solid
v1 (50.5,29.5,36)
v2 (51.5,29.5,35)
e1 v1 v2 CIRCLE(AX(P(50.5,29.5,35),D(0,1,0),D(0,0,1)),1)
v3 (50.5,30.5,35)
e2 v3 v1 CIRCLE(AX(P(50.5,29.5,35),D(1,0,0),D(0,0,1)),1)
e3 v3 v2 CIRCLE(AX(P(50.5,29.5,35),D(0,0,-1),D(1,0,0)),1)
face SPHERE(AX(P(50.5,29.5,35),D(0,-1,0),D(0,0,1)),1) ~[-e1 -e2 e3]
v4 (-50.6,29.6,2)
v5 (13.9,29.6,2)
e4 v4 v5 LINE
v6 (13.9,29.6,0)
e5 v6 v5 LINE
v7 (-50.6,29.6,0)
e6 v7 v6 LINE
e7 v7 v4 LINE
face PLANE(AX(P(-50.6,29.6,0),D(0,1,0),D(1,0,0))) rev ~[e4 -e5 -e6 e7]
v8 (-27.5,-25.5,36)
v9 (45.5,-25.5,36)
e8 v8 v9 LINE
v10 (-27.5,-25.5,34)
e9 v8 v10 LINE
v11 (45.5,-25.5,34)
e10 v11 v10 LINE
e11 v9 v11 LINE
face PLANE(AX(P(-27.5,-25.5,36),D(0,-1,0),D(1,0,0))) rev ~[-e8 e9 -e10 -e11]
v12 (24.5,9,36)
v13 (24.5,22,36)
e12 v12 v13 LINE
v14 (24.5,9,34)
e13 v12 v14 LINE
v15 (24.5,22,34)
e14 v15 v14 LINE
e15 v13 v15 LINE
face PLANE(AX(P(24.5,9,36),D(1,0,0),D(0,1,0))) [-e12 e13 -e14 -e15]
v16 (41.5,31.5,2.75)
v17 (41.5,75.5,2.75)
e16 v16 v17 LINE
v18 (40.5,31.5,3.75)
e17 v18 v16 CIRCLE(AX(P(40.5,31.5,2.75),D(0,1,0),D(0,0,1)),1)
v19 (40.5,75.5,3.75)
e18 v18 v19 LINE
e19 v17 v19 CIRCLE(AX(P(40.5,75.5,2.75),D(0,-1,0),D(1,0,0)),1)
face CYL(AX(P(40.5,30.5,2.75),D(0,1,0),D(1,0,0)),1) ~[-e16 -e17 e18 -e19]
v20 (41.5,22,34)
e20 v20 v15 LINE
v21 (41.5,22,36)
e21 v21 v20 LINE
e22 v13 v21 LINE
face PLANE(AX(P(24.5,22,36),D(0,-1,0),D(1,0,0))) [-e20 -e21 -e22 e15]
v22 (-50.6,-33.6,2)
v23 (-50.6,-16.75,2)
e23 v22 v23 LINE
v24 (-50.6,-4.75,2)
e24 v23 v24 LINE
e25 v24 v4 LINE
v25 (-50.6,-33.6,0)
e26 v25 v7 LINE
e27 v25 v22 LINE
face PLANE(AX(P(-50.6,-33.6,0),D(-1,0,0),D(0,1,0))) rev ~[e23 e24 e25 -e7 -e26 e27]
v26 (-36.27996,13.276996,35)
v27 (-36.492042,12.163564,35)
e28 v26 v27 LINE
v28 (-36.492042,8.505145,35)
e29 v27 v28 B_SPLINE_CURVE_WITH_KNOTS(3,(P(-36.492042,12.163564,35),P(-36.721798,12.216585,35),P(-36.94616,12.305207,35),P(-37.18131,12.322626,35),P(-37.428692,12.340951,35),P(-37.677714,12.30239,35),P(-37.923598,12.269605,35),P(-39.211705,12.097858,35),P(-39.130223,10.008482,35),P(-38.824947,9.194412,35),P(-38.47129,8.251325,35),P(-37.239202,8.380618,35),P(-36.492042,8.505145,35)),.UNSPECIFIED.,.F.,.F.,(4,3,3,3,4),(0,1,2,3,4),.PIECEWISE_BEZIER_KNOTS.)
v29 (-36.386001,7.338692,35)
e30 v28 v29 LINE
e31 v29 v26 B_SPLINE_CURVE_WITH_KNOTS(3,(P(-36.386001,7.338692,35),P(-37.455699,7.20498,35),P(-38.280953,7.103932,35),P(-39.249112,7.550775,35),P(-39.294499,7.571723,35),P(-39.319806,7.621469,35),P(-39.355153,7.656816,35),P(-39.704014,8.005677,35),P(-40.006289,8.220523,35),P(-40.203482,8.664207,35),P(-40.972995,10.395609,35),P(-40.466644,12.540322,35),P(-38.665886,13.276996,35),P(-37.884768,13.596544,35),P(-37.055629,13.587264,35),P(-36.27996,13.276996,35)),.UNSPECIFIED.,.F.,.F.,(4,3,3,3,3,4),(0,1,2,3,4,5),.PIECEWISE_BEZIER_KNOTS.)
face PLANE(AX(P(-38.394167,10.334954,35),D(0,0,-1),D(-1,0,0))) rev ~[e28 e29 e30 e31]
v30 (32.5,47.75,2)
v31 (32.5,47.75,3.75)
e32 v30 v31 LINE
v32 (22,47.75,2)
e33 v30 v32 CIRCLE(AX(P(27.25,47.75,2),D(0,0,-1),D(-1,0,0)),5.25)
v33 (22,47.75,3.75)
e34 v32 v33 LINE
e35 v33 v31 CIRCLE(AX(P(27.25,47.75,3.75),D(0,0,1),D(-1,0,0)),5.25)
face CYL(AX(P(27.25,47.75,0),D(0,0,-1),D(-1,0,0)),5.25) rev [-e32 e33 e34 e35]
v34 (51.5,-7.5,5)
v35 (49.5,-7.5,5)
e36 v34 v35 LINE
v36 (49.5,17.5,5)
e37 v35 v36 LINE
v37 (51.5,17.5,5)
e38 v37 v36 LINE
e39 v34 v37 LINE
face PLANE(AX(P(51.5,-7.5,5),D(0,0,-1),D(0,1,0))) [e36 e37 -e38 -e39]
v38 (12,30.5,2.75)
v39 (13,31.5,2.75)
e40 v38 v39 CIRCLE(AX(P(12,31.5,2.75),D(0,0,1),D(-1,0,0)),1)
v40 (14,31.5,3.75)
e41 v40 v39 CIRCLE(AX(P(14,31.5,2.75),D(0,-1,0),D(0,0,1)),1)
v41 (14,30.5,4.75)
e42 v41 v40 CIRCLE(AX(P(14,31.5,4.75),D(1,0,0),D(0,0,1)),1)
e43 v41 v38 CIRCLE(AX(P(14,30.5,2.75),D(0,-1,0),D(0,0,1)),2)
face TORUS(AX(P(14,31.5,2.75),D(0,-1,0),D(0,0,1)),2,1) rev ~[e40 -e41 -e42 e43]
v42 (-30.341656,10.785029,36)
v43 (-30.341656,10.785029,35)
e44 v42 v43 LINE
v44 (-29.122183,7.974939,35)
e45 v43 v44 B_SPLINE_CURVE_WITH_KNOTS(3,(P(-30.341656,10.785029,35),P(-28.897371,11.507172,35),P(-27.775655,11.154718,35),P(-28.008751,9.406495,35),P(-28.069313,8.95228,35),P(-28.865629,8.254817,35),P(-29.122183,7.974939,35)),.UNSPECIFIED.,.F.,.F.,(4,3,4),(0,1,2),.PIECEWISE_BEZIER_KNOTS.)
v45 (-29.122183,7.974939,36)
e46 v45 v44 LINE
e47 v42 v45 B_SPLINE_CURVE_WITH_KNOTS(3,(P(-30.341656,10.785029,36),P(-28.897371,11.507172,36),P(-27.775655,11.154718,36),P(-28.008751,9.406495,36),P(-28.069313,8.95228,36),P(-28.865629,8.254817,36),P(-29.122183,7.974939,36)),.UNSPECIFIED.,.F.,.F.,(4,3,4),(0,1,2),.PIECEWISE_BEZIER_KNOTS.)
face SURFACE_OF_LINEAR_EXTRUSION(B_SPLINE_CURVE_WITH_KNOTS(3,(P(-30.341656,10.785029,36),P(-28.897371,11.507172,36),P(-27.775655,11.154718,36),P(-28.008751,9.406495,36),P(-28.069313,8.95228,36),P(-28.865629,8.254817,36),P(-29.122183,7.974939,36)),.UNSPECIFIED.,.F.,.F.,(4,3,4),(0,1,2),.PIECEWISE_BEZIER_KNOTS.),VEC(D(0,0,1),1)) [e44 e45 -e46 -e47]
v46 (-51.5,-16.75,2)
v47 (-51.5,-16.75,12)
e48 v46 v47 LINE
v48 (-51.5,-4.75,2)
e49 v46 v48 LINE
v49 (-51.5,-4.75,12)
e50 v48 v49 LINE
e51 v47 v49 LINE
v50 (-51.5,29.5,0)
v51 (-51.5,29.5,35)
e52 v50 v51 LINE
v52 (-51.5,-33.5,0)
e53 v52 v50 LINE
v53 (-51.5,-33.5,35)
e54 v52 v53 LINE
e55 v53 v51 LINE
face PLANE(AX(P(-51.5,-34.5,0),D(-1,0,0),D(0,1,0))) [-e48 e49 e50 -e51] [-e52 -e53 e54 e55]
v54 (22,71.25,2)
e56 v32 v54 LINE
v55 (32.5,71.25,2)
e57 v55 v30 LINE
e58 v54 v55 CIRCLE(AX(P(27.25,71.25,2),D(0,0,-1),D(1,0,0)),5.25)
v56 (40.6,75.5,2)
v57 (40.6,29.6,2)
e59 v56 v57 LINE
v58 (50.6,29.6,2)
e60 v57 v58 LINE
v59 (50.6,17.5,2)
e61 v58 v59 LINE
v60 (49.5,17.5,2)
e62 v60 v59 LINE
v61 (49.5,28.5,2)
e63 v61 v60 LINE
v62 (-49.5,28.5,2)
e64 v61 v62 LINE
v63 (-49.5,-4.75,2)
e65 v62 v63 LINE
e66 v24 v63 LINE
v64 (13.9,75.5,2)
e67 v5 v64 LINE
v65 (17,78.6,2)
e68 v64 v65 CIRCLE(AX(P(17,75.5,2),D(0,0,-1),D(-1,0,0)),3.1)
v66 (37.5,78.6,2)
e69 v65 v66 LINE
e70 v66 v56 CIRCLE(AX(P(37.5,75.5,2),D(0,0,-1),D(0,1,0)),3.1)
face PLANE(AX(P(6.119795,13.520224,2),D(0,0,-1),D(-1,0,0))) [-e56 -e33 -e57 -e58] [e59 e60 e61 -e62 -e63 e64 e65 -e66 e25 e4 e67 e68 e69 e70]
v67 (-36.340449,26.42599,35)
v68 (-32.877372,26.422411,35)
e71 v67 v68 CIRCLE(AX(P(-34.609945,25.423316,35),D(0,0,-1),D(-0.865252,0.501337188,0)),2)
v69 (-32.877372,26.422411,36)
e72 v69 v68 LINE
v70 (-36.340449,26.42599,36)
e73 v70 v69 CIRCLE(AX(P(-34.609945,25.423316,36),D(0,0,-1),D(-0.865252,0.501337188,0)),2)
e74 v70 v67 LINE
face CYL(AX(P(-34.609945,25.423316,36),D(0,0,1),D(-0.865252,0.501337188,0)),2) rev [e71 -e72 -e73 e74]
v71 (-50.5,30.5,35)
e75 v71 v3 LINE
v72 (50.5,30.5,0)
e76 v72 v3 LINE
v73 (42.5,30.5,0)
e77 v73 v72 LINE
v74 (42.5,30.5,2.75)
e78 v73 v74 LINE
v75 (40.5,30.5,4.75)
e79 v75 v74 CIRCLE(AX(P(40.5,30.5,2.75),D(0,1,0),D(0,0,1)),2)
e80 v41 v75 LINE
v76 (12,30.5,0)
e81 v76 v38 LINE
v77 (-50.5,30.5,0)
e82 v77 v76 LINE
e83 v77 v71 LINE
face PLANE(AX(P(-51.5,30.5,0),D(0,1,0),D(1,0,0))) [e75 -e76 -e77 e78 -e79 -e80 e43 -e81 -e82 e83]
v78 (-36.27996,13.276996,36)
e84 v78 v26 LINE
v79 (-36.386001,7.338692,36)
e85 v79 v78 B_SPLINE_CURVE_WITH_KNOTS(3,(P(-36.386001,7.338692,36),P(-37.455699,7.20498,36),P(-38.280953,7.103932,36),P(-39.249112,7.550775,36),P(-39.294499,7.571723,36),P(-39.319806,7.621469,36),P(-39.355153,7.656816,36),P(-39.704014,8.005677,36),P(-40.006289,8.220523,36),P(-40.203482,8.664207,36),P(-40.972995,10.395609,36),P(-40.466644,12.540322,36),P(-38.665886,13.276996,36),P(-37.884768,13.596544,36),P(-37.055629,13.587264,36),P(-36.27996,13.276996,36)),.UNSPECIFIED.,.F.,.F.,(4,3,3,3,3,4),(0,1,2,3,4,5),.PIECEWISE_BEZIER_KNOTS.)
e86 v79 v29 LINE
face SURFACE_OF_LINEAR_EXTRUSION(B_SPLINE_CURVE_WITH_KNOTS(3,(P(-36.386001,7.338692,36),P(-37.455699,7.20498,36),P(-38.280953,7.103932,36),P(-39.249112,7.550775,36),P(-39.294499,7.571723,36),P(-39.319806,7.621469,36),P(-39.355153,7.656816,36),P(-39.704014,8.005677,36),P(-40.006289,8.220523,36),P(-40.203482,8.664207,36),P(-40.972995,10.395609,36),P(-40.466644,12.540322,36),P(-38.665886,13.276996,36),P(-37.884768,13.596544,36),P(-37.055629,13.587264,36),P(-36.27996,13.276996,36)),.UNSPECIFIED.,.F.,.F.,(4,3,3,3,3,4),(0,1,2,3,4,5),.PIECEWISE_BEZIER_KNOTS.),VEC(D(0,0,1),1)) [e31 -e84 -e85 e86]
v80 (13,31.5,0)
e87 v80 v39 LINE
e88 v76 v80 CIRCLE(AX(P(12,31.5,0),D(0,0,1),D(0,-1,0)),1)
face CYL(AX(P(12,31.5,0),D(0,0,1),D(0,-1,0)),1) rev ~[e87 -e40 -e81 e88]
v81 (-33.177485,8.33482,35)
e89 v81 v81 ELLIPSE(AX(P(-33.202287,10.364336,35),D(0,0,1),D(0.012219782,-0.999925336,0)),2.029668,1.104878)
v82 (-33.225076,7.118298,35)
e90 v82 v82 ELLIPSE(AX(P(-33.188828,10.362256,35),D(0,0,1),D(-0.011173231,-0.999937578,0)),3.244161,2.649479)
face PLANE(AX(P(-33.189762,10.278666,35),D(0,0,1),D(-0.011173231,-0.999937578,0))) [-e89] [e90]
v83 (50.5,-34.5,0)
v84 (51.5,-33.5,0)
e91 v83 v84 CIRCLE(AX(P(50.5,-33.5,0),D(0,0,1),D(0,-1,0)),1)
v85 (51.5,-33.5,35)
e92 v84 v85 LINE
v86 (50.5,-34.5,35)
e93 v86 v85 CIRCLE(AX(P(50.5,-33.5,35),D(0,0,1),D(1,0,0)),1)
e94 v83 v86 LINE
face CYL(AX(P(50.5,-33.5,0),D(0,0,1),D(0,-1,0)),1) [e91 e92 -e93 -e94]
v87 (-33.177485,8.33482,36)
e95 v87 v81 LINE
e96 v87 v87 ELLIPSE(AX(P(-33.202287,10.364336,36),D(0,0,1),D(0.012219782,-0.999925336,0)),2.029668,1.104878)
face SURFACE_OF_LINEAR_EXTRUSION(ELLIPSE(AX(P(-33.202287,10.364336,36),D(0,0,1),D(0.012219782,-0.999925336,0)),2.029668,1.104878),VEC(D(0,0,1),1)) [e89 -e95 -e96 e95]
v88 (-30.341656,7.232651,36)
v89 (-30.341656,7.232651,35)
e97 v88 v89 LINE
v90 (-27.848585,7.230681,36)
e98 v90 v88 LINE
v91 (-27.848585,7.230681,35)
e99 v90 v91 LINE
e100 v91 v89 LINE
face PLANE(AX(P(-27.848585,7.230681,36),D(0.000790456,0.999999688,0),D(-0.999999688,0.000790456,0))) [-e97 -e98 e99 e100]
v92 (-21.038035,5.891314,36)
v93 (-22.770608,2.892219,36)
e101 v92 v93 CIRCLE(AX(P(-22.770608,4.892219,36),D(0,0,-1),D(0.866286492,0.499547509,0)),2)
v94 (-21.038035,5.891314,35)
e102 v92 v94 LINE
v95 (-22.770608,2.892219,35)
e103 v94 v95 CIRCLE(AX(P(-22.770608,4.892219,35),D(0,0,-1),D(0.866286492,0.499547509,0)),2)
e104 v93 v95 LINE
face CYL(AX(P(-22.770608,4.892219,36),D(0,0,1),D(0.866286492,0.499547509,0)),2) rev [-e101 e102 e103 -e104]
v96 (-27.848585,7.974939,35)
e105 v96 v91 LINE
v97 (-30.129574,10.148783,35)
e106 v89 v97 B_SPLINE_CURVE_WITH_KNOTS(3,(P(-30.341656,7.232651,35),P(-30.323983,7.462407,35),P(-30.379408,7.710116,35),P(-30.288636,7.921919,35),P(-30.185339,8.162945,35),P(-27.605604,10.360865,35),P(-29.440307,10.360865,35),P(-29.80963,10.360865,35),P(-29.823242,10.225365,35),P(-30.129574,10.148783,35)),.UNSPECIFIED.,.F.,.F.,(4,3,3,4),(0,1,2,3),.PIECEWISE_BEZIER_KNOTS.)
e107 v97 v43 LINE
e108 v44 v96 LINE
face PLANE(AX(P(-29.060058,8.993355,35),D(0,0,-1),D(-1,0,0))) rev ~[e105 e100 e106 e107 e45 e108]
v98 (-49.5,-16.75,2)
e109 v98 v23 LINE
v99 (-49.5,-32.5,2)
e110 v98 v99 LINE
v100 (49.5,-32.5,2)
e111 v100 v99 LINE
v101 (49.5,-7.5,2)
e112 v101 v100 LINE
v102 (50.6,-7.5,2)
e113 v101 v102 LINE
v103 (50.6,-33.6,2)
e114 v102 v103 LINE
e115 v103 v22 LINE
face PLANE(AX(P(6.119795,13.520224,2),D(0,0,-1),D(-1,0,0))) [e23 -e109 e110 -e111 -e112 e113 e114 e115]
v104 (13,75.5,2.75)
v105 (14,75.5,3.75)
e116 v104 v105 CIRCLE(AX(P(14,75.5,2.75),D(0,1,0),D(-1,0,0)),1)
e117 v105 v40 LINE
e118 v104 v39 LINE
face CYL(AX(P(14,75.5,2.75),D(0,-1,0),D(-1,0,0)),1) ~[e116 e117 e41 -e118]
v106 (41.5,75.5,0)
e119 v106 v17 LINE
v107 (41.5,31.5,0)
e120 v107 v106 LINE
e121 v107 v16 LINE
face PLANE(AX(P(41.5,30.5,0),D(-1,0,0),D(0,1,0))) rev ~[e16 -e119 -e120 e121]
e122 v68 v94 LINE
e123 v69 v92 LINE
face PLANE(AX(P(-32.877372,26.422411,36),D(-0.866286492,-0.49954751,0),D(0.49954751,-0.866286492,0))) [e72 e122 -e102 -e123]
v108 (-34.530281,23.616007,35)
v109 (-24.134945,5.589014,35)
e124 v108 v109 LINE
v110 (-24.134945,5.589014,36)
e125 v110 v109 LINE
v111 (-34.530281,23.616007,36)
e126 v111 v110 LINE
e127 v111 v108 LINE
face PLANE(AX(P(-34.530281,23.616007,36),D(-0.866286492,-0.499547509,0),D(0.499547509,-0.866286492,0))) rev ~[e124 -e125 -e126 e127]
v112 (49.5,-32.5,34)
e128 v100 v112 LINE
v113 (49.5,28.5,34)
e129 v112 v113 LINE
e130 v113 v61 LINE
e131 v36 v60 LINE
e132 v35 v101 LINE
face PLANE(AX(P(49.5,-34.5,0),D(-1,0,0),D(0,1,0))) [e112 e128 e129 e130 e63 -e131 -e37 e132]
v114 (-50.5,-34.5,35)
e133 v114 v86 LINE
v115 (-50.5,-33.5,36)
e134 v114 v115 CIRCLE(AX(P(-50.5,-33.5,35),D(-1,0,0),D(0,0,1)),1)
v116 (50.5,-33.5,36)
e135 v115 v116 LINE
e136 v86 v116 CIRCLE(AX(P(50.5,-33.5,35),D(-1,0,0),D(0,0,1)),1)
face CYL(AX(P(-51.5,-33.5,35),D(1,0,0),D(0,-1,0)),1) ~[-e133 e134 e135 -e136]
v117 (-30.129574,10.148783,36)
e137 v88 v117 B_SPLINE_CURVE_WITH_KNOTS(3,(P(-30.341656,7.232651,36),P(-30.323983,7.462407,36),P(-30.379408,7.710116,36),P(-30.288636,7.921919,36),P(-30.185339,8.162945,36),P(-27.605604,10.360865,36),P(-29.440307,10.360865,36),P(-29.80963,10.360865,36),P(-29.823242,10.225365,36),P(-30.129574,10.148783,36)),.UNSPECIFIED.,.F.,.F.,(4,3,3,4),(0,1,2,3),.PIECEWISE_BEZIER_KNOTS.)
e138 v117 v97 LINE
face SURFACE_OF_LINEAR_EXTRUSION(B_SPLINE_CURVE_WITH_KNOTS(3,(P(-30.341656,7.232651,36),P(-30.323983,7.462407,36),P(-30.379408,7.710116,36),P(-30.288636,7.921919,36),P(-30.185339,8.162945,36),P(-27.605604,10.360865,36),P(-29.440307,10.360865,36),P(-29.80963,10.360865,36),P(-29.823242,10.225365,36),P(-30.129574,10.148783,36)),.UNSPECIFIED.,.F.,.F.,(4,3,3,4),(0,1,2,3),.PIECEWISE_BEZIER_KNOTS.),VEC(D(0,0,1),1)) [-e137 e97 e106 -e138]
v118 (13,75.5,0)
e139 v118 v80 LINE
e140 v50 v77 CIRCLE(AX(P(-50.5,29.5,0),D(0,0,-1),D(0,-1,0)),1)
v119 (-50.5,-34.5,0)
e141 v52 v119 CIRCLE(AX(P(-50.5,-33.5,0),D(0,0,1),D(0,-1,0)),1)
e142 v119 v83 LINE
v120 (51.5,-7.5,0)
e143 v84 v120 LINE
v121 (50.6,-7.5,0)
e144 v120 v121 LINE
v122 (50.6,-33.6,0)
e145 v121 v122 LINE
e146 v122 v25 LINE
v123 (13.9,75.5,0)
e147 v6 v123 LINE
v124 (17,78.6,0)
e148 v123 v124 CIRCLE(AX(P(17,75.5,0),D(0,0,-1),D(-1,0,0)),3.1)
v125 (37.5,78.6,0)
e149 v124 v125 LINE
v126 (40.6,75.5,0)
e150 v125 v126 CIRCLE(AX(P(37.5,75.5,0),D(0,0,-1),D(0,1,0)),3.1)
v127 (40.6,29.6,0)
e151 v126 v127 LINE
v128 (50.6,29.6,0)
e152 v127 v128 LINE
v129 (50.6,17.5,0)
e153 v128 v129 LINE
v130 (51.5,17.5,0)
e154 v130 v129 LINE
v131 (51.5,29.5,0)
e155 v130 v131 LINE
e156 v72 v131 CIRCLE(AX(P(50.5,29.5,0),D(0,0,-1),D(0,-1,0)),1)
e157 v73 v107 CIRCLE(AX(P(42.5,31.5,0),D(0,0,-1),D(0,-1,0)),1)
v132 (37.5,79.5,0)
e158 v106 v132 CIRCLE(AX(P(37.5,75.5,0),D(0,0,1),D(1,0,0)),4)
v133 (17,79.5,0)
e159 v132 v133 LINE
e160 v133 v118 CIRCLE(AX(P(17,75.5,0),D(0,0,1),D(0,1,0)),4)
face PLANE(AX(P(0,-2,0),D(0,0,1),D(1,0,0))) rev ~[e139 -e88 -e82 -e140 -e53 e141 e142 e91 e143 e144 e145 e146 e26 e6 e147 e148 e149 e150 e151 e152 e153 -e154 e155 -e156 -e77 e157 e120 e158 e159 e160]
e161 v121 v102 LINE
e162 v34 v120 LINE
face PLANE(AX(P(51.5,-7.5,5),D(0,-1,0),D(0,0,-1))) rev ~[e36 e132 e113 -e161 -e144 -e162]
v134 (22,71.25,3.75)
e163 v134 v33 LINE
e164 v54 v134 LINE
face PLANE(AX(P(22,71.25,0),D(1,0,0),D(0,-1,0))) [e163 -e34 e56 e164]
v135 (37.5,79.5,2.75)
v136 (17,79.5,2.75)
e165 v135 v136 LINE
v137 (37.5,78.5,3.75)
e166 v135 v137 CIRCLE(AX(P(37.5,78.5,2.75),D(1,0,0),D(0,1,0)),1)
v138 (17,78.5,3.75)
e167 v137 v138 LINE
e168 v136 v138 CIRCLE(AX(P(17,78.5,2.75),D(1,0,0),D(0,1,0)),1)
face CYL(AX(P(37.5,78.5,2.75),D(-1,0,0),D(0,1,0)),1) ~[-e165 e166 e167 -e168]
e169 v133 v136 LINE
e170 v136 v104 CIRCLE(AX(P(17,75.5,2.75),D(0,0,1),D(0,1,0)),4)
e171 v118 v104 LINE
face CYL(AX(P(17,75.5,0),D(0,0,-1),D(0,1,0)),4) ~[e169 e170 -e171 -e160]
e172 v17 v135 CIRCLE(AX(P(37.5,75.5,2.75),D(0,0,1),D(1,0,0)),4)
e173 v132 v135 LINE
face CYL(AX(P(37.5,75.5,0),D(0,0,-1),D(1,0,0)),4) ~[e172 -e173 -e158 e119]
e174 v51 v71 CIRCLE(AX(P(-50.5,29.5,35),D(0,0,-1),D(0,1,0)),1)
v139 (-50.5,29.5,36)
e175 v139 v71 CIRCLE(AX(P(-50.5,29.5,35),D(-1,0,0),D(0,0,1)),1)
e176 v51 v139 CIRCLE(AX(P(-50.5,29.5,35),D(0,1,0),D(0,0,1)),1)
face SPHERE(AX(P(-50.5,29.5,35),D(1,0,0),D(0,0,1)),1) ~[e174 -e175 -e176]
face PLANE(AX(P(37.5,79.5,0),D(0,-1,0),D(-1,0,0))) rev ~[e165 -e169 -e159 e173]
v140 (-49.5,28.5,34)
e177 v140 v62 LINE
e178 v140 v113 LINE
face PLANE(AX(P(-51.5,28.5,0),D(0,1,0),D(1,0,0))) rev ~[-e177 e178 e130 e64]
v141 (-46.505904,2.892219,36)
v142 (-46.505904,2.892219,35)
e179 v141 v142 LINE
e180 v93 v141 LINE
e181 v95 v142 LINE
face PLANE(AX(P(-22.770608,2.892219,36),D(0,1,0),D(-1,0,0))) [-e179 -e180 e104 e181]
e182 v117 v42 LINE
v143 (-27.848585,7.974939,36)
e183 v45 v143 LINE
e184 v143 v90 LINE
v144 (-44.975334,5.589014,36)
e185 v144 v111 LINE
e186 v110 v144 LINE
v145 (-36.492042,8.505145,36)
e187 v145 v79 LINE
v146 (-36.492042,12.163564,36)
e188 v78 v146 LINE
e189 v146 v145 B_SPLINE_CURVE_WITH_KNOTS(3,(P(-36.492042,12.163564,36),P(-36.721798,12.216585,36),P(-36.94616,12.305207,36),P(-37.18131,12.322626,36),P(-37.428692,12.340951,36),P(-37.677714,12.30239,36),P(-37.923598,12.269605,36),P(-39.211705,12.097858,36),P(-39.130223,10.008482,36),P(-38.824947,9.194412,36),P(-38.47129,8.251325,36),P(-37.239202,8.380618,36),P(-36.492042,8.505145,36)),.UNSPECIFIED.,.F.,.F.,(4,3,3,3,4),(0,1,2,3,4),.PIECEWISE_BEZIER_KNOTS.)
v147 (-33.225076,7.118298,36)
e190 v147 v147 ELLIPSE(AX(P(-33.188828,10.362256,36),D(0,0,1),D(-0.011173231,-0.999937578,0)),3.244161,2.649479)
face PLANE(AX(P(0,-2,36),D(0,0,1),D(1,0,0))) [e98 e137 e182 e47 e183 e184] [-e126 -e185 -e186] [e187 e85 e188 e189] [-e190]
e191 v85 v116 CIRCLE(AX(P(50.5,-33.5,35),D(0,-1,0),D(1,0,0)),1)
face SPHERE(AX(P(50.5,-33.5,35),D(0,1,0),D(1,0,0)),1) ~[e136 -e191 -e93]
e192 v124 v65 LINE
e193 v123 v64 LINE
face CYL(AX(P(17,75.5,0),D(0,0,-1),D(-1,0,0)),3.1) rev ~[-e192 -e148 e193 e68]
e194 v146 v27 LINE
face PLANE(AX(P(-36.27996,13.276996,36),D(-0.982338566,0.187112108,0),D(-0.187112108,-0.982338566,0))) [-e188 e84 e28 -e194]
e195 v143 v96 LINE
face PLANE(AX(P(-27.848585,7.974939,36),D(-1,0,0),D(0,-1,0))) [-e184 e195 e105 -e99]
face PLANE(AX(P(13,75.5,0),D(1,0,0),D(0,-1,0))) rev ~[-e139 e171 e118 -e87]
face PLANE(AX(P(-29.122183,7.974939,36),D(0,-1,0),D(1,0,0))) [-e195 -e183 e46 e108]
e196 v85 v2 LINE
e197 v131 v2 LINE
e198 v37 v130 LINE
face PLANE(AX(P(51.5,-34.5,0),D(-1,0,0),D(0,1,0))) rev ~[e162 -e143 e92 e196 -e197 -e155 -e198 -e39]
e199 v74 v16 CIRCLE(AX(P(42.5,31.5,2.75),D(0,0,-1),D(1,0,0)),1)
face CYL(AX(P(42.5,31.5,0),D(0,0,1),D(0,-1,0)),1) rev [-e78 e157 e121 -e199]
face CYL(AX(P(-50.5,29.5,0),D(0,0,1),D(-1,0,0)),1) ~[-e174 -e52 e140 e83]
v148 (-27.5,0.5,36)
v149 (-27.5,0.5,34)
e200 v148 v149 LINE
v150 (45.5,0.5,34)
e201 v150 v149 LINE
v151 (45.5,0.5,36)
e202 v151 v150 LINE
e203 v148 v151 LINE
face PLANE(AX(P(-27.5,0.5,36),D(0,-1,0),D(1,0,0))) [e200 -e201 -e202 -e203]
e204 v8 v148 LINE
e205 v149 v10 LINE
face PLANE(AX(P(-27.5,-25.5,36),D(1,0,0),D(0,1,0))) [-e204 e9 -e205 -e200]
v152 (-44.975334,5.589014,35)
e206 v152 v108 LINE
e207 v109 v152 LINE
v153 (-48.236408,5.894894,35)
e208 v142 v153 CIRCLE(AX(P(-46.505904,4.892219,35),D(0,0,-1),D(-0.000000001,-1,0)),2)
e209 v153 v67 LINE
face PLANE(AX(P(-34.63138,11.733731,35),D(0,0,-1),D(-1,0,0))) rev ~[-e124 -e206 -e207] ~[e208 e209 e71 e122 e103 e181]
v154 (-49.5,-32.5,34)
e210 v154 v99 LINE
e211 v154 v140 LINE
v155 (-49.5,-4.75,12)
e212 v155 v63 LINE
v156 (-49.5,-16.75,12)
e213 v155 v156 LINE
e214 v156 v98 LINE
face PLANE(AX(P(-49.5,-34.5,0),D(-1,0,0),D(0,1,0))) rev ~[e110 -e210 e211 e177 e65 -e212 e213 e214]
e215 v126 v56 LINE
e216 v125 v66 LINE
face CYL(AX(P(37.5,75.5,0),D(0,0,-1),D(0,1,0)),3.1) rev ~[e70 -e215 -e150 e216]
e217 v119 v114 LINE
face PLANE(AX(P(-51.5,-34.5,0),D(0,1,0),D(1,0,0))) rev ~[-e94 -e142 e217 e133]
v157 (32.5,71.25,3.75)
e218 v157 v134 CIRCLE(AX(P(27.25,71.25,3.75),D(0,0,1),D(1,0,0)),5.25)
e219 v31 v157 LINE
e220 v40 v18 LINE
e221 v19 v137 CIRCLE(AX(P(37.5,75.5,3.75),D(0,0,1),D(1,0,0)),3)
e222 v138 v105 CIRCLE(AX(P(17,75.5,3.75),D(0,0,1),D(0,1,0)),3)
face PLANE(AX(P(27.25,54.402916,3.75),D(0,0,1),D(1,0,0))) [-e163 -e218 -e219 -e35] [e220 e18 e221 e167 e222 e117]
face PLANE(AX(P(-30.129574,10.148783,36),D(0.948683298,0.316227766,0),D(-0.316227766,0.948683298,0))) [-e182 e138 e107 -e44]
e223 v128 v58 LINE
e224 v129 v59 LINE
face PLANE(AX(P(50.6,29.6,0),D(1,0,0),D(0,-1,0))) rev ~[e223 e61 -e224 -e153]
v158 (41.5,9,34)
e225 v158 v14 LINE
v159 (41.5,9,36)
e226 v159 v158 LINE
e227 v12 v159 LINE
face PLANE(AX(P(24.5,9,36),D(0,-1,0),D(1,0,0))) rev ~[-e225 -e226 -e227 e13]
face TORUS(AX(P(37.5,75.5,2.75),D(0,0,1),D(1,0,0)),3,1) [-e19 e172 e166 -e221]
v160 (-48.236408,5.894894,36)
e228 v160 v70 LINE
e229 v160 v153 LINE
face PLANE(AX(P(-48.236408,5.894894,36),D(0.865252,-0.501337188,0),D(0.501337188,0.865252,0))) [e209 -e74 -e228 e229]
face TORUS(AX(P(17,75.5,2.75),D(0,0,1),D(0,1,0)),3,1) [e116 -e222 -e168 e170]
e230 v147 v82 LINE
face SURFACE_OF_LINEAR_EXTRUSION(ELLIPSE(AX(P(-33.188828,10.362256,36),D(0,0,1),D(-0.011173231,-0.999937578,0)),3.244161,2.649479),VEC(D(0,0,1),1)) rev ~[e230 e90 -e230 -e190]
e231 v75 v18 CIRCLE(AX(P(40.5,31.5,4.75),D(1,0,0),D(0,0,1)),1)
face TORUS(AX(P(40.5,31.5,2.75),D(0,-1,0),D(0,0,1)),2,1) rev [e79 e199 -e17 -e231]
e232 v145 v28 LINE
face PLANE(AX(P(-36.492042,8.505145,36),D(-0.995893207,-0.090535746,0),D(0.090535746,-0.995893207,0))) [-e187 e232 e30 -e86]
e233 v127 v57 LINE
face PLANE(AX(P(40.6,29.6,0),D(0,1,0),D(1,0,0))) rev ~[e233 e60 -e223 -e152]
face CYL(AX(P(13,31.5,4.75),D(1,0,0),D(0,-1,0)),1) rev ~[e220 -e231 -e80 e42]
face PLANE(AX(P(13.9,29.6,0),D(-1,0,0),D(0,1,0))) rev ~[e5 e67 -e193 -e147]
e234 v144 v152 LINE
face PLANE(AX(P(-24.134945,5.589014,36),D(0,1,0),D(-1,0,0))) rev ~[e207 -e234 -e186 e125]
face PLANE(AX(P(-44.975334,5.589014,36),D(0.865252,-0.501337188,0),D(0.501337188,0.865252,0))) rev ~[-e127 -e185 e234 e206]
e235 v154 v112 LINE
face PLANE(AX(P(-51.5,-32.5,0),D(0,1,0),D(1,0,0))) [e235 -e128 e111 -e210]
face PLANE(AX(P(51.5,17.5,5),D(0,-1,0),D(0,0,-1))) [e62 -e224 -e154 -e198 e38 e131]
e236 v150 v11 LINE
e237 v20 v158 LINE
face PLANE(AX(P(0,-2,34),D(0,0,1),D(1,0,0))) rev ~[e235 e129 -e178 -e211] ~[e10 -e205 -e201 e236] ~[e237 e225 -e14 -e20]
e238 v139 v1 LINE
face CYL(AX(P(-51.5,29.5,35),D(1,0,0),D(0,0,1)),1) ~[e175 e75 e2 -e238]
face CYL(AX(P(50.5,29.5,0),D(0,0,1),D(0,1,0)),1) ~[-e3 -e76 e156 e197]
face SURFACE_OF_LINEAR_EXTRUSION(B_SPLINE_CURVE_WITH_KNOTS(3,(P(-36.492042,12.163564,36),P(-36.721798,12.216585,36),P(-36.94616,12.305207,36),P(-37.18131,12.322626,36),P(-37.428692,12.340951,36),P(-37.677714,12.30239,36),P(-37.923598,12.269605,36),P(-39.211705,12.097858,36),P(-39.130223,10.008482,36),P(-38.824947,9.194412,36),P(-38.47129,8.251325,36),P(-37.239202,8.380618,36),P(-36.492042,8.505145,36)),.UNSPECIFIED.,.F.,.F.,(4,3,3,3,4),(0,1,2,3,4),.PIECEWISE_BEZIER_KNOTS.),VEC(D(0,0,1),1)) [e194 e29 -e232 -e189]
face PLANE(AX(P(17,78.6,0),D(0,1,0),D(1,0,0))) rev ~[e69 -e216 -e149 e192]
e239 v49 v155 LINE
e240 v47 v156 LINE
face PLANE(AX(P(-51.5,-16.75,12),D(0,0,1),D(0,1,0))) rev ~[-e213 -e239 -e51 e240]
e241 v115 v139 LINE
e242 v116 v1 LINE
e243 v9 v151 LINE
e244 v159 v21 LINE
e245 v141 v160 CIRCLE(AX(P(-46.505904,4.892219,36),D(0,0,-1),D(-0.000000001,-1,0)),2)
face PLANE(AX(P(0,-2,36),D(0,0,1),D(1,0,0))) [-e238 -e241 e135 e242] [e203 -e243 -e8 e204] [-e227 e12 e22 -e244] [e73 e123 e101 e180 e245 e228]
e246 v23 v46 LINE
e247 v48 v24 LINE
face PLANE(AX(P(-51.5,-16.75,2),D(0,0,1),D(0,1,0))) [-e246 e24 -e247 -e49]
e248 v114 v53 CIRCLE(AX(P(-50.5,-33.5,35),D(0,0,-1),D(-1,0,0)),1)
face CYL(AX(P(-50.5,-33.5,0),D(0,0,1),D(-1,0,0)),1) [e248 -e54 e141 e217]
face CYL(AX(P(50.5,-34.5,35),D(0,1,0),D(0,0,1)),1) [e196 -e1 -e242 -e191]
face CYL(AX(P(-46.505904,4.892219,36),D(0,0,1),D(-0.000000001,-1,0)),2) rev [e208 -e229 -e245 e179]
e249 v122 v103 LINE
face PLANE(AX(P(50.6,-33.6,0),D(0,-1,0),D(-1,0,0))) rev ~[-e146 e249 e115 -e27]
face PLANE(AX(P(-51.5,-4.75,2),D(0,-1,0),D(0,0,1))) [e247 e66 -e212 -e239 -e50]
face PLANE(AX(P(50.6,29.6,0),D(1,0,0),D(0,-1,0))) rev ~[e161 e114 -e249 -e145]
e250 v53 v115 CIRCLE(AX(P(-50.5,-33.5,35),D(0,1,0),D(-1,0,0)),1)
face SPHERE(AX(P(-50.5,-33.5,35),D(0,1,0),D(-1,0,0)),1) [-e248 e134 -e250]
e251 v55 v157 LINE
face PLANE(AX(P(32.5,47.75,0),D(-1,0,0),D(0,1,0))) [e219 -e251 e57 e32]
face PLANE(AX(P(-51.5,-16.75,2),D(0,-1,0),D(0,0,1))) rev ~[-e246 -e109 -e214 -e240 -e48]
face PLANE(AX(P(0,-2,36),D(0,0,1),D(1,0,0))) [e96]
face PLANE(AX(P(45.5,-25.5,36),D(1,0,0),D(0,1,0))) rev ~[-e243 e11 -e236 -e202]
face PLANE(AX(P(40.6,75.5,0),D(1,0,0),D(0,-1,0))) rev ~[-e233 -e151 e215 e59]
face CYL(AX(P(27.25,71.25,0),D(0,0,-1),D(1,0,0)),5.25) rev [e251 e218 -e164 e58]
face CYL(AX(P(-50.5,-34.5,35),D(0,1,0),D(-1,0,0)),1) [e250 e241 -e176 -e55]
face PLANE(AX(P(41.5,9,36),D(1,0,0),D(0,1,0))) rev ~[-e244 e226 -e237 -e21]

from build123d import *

# Parameters (mm, degrees)
CROQUIS1_W              = 103
CROQUIS1_H              = 65
SALIENTE_EXTRUIR2_DEPTH = 36
VACIADO7_T              = -2
CORTAR_EXTRUIR28_REACH  = 73.683
CROQUIS12_W             = 73
CROQUIS12_H             = 26
SALIENTE_EXTRUIR3_DEPTH = 3.75
CORTAR_EXTRUIR11_DEPTH  = 2
CORTAR_EXTRUIR17_REACH  = 137.001
CROQUIS16_W             = 10
CROQUIS16_H             = 12
CORTAR_EXTRUIR29_REACH  = 103.334
CROQUIS30_W             = 17
CROQUIS30_H             = 13
CROQUIS20_RX            = 3.244161213
CROQUIS20_RY            = 2.649478984
CROQUIS20_RX_2          = 2.029667585
CROQUIS20_RY_2          = 1.104878059
CORTAR_EXTRUIR24_DEPTH  = 1
CORTAR_EXTRUIR30_REACH  = 137.001
CROQUIS31_W             = 5
CROQUIS31_H             = 25
REDONDEO1_R             = 1


with BuildPart() as part:
    # Croquis1 → Saliente-Extruir2 (new body)
    with BuildSketch(Plane.XY):
        with Locations((0, -2)):
            Rectangle(CROQUIS1_W, CROQUIS1_H)
    extrude(amount=SALIENTE_EXTRUIR2_DEPTH)

    # Vaciado7
    vaciado7_openings = [part.faces().sort_by_distance(p)[0] for p in [
        (0, -2, 0),
    ]]
    offset(amount=VACIADO7_T, openings=vaciado7_openings, kind=Kind.INTERSECTION)

    # Croquis12 → Cortar-Extruir28 (cut, up to next)
    with BuildSketch(Plane.XY.offset(36), mode=Mode.PRIVATE) as cortar_extruir28_sk1:
        with Locations((9, -12.5)):
            Rectangle(CROQUIS12_W, CROQUIS12_H)
    cortar_extruir28_tool1 = extrude(cortar_extruir28_sk1.sketch, amount=-CORTAR_EXTRUIR28_REACH, mode=Mode.PRIVATE) & part.part
    add(cortar_extruir28_tool1.solids().sort_by_distance((9, -12.5, 36))[0], mode=Mode.SUBTRACT)

    # Croquis29 → Saliente-Extruir3 (add)
    with BuildSketch(Plane(origin=(0, 0, 0), x_dir=(-1, 0, 0), z_dir=(0, 0, -1))):
        with BuildLine():
            Line((-13, 75.5), (-13, 30.5))
            Line((-13, 30.5), (-41.5, 30.5))
            Line((-41.5, 30.5), (-41.5, 75.5))
            ThreePointArc((-41.5, 75.5), (-40.328427125, 78.328427125), (-37.5, 79.5))
            Line((-37.5, 79.5), (-17, 79.5))
            ThreePointArc((-17, 79.5), (-14.171572875, 78.328427125), (-13, 75.5))
        make_face()
        with BuildLine():
            Line((-22, 71.25), (-22, 47.75))
            ThreePointArc((-22, 47.75), (-27.25, 42.5), (-32.5, 47.75))
            Line((-32.5, 47.75), (-32.5, 71.25))
            ThreePointArc((-32.5, 71.25), (-27.25, 76.5), (-22, 71.25))
        make_face(mode=Mode.SUBTRACT)
    extrude(amount=-SALIENTE_EXTRUIR3_DEPTH)

    # Croquis14 → Cortar-Extruir11 (cut)
    with BuildSketch(Plane(origin=(0, 0, 0), x_dir=(-1, 0, 0), z_dir=(0, 0, -1))):
        with BuildLine():
            Line((50.6, -33.6), (50.6, 29.6))
            Line((50.6, 29.6), (-13.9, 29.6))
            Line((-13.9, 29.6), (-13.9, 75.5))
            ThreePointArc((-13.9, 75.5), (-14.807968978, 77.692031022), (-17, 78.6))
            Line((-17, 78.6), (-37.5, 78.6))
            ThreePointArc((-37.5, 78.6), (-39.692031022, 77.692031022), (-40.6, 75.5))
            Line((-40.6, 75.5), (-40.6, 29.6))
            Line((-40.6, 29.6), (-50.6, 29.6))
            Line((-50.6, 29.6), (-50.6, -33.6))
            Line((-50.6, -33.6), (50.6, -33.6))
        make_face()
    extrude(amount=-CORTAR_EXTRUIR11_DEPTH, mode=Mode.SUBTRACT)

    # Croquis16 → Cortar-Extruir17 (cut, up to next)
    with BuildSketch(Plane.ZY.offset(51.5), mode=Mode.PRIVATE) as cortar_extruir17_sk1:
        with Locations((7, -10.75)):
            Rectangle(CROQUIS16_W, CROQUIS16_H)
    cortar_extruir17_tool1 = extrude(cortar_extruir17_sk1.sketch, amount=-CORTAR_EXTRUIR17_REACH, mode=Mode.PRIVATE) & part.part
    add(cortar_extruir17_tool1.solids().sort_by_distance((-51.5, -10.75, 7))[0], mode=Mode.SUBTRACT)

    # Croquis30 → Cortar-Extruir29 (cut, up to next)
    with BuildSketch(Plane.XY.offset(36), mode=Mode.PRIVATE) as cortar_extruir29_sk1:
        with Locations((33, 15.5)):
            Rectangle(CROQUIS30_W, CROQUIS30_H)
    cortar_extruir29_tool1 = extrude(cortar_extruir29_sk1.sketch, amount=-CORTAR_EXTRUIR29_REACH, mode=Mode.PRIVATE) & part.part
    add(cortar_extruir29_tool1.solids().sort_by_distance((33, 15.5, 36))[0], mode=Mode.SUBTRACT)

    # Croquis20 → Cortar-Extruir24 (cut)
    # profile 1 of 4: a face of its own
    with BuildSketch(Plane.XY.offset(36)):
        with BuildLine():
            Line((-32.877371929, 26.422410606), (-21.038034651, 5.891314445))
            ThreePointArc((-21.038034651, 5.891314445), (-21.038818093, 3.891767038), (-22.770607635, 2.892219426))
            Line((-22.770607635, 2.892219426), (-46.505903571, 2.892219426))
            ThreePointArc((-46.505903571, 2.892219426), (-48.238726232, 3.89355751), (-48.236407571, 5.894893803))
            Line((-48.236407571, 5.894893803), (-36.340448913, 26.425989964))
            ThreePointArc((-36.340448913, 26.425989964), (-34.607877759, 27.423314519), (-32.877371929, 26.422410606))
        make_face()
        Polygon((-24.134944502, 5.589013553), (-44.975333507, 5.589013553), (-34.530281265, 23.61600727), align=None, mode=Mode.SUBTRACT)
    # profile 2 of 4: a face of its own
    with BuildSketch(Plane.XY.offset(36)):
        with BuildLine():
            add(Edge.make_bspline(
                [(-36.492042346, 12.163564203), (-36.721798149, 12.216584773), (-36.946159791, 12.305207397), (-37.181309753, 12.322625912), (-37.428691713, 12.340950502), (-37.677714014, 12.302389838), (-37.92359773, 12.269605343), (-39.211705056, 12.097857699), (-39.130223403, 10.008481597), (-38.824947416, 9.194412297), (-38.471289709, 8.251325078), (-37.239201594, 8.380618349), (-36.492042346, 8.50514489)],
                knots=[0, 0, 0, 0, 1, 1, 1, 2, 2, 2, 3, 3, 3, 4, 4, 4, 4], degree=3))
            Line((-36.492042346, 8.50514489), (-36.386001207, 7.338692355))
            add(Edge.make_bspline(
                [(-36.386001207, 7.338692355), (-37.455699366, 7.204980085), (-38.280952684, 7.103931885), (-39.249111974, 7.550774634), (-39.294499295, 7.571722629), (-39.319806067, 7.621468727), (-39.355153113, 7.656815774), (-39.704014417, 8.005677078), (-40.006289411, 8.220522758), (-40.203482229, 8.664206599), (-40.972994564, 10.395609351), (-40.466643717, 12.540322436), (-38.665885706, 13.276996168), (-37.884767663, 13.596544459), (-37.05562877, 13.587263649), (-36.279960067, 13.276996168)],
                knots=[0, 0, 0, 0, 1, 1, 1, 2, 2, 2, 3, 3, 3, 4, 4, 4, 5, 5, 5, 5], degree=3))
            Line((-36.279960067, 13.276996168), (-36.492042346, 12.163564203))
        make_face()
    # profile 3 of 4: a face of its own
    with BuildSketch(Plane.XY.offset(36)):
        with Locations(Location((-33.188828288, 10.362256285), (0, 0, -90.640192277))):
            Ellipse(CROQUIS20_RX, CROQUIS20_RY)
        with Locations(Location((-33.20228715, 10.364336342), (0, 0, -89.299840613))):
            Ellipse(CROQUIS20_RX_2, CROQUIS20_RY_2, mode=Mode.SUBTRACT)
    # profile 4 of 4: a face of its own
    with BuildSketch(Plane.XY.offset(36)):
        with BuildLine():
            add(Edge.make_bspline(
                [(-30.341656255, 7.232651216), (-30.323982731, 7.462407018), (-30.379408301, 7.710115851), (-30.288635685, 7.921918623), (-30.185338507, 8.162945371), (-27.605603956, 10.360864831), (-29.440306569, 10.360864831), (-29.809630445, 10.360864831), (-29.823242351, 10.225365458), (-30.129573976, 10.148782552)],
                knots=[0, 0, 0, 0, 1, 1, 1, 2, 2, 2, 3, 3, 3, 3], degree=3))
            Line((-30.129573976, 10.148782552), (-30.341656255, 10.785029389))
            add(Edge.make_bspline(
                [(-30.341656255, 10.785029389), (-28.897370629, 11.507172202), (-27.775654694, 11.154718258), (-28.008751185, 9.406494576), (-28.069313134, 8.952279958), (-28.865628872, 8.254816587), (-29.12218315, 7.974939192)],
                knots=[0, 0, 0, 0, 1, 1, 1, 2, 2, 2, 2], degree=3))
            Line((-29.12218315, 7.974939192), (-27.84858536, 7.974939192))
            Line((-27.84858536, 7.974939192), (-27.84858536, 7.230680553))
            Line((-27.84858536, 7.230680553), (-30.341656255, 7.232651216))
        make_face()
    extrude(amount=-CORTAR_EXTRUIR24_DEPTH, mode=Mode.SUBTRACT)

    # Croquis31 → Cortar-Extruir30 (cut, up to next)
    with BuildSketch(Plane(origin=(51.5, 0, 0), x_dir=(0, 0, -1), z_dir=(1, 0, 0)), mode=Mode.PRIVATE) as cortar_extruir30_sk1:
        with Locations((-2.5, 5)):
            Rectangle(CROQUIS31_W, CROQUIS31_H)
    cortar_extruir30_tool1 = extrude(cortar_extruir30_sk1.sketch, amount=-CORTAR_EXTRUIR30_REACH, mode=Mode.PRIVATE) & part.part
    add(cortar_extruir30_tool1.solids().sort_by_distance((51.5, 5, 2.5))[0], mode=Mode.SUBTRACT)

    # Redondeo1
    redondeo1_edges = [part.edges().sort_by_distance(p)[0] for p in [
        (51.5, -2, 36),
        (0, 30.5, 36),
        (40.328427125, 78.328427125, 3.75),
        (27.25, 79.5, 3.75),
        (14.171572875, 78.328427125, 3.75),
        (13, 53, 3.75),
        (27.25, 30.5, 3.75),
        (13, 30.5, 1.875),
        (41.5, 53, 3.75),
        (41.5, 30.5, 1.875),
        (-51.5, -2, 36),
        (-51.5, 30.5, 18),
        (51.5, 30.5, 18),
        (51.5, -34.5, 18),
        (-51.5, -34.5, 18),
        (0, -34.5, 36),
    ]]
    fillet(redondeo1_edges, radius=REDONDEO1_R)


solid = part.part
